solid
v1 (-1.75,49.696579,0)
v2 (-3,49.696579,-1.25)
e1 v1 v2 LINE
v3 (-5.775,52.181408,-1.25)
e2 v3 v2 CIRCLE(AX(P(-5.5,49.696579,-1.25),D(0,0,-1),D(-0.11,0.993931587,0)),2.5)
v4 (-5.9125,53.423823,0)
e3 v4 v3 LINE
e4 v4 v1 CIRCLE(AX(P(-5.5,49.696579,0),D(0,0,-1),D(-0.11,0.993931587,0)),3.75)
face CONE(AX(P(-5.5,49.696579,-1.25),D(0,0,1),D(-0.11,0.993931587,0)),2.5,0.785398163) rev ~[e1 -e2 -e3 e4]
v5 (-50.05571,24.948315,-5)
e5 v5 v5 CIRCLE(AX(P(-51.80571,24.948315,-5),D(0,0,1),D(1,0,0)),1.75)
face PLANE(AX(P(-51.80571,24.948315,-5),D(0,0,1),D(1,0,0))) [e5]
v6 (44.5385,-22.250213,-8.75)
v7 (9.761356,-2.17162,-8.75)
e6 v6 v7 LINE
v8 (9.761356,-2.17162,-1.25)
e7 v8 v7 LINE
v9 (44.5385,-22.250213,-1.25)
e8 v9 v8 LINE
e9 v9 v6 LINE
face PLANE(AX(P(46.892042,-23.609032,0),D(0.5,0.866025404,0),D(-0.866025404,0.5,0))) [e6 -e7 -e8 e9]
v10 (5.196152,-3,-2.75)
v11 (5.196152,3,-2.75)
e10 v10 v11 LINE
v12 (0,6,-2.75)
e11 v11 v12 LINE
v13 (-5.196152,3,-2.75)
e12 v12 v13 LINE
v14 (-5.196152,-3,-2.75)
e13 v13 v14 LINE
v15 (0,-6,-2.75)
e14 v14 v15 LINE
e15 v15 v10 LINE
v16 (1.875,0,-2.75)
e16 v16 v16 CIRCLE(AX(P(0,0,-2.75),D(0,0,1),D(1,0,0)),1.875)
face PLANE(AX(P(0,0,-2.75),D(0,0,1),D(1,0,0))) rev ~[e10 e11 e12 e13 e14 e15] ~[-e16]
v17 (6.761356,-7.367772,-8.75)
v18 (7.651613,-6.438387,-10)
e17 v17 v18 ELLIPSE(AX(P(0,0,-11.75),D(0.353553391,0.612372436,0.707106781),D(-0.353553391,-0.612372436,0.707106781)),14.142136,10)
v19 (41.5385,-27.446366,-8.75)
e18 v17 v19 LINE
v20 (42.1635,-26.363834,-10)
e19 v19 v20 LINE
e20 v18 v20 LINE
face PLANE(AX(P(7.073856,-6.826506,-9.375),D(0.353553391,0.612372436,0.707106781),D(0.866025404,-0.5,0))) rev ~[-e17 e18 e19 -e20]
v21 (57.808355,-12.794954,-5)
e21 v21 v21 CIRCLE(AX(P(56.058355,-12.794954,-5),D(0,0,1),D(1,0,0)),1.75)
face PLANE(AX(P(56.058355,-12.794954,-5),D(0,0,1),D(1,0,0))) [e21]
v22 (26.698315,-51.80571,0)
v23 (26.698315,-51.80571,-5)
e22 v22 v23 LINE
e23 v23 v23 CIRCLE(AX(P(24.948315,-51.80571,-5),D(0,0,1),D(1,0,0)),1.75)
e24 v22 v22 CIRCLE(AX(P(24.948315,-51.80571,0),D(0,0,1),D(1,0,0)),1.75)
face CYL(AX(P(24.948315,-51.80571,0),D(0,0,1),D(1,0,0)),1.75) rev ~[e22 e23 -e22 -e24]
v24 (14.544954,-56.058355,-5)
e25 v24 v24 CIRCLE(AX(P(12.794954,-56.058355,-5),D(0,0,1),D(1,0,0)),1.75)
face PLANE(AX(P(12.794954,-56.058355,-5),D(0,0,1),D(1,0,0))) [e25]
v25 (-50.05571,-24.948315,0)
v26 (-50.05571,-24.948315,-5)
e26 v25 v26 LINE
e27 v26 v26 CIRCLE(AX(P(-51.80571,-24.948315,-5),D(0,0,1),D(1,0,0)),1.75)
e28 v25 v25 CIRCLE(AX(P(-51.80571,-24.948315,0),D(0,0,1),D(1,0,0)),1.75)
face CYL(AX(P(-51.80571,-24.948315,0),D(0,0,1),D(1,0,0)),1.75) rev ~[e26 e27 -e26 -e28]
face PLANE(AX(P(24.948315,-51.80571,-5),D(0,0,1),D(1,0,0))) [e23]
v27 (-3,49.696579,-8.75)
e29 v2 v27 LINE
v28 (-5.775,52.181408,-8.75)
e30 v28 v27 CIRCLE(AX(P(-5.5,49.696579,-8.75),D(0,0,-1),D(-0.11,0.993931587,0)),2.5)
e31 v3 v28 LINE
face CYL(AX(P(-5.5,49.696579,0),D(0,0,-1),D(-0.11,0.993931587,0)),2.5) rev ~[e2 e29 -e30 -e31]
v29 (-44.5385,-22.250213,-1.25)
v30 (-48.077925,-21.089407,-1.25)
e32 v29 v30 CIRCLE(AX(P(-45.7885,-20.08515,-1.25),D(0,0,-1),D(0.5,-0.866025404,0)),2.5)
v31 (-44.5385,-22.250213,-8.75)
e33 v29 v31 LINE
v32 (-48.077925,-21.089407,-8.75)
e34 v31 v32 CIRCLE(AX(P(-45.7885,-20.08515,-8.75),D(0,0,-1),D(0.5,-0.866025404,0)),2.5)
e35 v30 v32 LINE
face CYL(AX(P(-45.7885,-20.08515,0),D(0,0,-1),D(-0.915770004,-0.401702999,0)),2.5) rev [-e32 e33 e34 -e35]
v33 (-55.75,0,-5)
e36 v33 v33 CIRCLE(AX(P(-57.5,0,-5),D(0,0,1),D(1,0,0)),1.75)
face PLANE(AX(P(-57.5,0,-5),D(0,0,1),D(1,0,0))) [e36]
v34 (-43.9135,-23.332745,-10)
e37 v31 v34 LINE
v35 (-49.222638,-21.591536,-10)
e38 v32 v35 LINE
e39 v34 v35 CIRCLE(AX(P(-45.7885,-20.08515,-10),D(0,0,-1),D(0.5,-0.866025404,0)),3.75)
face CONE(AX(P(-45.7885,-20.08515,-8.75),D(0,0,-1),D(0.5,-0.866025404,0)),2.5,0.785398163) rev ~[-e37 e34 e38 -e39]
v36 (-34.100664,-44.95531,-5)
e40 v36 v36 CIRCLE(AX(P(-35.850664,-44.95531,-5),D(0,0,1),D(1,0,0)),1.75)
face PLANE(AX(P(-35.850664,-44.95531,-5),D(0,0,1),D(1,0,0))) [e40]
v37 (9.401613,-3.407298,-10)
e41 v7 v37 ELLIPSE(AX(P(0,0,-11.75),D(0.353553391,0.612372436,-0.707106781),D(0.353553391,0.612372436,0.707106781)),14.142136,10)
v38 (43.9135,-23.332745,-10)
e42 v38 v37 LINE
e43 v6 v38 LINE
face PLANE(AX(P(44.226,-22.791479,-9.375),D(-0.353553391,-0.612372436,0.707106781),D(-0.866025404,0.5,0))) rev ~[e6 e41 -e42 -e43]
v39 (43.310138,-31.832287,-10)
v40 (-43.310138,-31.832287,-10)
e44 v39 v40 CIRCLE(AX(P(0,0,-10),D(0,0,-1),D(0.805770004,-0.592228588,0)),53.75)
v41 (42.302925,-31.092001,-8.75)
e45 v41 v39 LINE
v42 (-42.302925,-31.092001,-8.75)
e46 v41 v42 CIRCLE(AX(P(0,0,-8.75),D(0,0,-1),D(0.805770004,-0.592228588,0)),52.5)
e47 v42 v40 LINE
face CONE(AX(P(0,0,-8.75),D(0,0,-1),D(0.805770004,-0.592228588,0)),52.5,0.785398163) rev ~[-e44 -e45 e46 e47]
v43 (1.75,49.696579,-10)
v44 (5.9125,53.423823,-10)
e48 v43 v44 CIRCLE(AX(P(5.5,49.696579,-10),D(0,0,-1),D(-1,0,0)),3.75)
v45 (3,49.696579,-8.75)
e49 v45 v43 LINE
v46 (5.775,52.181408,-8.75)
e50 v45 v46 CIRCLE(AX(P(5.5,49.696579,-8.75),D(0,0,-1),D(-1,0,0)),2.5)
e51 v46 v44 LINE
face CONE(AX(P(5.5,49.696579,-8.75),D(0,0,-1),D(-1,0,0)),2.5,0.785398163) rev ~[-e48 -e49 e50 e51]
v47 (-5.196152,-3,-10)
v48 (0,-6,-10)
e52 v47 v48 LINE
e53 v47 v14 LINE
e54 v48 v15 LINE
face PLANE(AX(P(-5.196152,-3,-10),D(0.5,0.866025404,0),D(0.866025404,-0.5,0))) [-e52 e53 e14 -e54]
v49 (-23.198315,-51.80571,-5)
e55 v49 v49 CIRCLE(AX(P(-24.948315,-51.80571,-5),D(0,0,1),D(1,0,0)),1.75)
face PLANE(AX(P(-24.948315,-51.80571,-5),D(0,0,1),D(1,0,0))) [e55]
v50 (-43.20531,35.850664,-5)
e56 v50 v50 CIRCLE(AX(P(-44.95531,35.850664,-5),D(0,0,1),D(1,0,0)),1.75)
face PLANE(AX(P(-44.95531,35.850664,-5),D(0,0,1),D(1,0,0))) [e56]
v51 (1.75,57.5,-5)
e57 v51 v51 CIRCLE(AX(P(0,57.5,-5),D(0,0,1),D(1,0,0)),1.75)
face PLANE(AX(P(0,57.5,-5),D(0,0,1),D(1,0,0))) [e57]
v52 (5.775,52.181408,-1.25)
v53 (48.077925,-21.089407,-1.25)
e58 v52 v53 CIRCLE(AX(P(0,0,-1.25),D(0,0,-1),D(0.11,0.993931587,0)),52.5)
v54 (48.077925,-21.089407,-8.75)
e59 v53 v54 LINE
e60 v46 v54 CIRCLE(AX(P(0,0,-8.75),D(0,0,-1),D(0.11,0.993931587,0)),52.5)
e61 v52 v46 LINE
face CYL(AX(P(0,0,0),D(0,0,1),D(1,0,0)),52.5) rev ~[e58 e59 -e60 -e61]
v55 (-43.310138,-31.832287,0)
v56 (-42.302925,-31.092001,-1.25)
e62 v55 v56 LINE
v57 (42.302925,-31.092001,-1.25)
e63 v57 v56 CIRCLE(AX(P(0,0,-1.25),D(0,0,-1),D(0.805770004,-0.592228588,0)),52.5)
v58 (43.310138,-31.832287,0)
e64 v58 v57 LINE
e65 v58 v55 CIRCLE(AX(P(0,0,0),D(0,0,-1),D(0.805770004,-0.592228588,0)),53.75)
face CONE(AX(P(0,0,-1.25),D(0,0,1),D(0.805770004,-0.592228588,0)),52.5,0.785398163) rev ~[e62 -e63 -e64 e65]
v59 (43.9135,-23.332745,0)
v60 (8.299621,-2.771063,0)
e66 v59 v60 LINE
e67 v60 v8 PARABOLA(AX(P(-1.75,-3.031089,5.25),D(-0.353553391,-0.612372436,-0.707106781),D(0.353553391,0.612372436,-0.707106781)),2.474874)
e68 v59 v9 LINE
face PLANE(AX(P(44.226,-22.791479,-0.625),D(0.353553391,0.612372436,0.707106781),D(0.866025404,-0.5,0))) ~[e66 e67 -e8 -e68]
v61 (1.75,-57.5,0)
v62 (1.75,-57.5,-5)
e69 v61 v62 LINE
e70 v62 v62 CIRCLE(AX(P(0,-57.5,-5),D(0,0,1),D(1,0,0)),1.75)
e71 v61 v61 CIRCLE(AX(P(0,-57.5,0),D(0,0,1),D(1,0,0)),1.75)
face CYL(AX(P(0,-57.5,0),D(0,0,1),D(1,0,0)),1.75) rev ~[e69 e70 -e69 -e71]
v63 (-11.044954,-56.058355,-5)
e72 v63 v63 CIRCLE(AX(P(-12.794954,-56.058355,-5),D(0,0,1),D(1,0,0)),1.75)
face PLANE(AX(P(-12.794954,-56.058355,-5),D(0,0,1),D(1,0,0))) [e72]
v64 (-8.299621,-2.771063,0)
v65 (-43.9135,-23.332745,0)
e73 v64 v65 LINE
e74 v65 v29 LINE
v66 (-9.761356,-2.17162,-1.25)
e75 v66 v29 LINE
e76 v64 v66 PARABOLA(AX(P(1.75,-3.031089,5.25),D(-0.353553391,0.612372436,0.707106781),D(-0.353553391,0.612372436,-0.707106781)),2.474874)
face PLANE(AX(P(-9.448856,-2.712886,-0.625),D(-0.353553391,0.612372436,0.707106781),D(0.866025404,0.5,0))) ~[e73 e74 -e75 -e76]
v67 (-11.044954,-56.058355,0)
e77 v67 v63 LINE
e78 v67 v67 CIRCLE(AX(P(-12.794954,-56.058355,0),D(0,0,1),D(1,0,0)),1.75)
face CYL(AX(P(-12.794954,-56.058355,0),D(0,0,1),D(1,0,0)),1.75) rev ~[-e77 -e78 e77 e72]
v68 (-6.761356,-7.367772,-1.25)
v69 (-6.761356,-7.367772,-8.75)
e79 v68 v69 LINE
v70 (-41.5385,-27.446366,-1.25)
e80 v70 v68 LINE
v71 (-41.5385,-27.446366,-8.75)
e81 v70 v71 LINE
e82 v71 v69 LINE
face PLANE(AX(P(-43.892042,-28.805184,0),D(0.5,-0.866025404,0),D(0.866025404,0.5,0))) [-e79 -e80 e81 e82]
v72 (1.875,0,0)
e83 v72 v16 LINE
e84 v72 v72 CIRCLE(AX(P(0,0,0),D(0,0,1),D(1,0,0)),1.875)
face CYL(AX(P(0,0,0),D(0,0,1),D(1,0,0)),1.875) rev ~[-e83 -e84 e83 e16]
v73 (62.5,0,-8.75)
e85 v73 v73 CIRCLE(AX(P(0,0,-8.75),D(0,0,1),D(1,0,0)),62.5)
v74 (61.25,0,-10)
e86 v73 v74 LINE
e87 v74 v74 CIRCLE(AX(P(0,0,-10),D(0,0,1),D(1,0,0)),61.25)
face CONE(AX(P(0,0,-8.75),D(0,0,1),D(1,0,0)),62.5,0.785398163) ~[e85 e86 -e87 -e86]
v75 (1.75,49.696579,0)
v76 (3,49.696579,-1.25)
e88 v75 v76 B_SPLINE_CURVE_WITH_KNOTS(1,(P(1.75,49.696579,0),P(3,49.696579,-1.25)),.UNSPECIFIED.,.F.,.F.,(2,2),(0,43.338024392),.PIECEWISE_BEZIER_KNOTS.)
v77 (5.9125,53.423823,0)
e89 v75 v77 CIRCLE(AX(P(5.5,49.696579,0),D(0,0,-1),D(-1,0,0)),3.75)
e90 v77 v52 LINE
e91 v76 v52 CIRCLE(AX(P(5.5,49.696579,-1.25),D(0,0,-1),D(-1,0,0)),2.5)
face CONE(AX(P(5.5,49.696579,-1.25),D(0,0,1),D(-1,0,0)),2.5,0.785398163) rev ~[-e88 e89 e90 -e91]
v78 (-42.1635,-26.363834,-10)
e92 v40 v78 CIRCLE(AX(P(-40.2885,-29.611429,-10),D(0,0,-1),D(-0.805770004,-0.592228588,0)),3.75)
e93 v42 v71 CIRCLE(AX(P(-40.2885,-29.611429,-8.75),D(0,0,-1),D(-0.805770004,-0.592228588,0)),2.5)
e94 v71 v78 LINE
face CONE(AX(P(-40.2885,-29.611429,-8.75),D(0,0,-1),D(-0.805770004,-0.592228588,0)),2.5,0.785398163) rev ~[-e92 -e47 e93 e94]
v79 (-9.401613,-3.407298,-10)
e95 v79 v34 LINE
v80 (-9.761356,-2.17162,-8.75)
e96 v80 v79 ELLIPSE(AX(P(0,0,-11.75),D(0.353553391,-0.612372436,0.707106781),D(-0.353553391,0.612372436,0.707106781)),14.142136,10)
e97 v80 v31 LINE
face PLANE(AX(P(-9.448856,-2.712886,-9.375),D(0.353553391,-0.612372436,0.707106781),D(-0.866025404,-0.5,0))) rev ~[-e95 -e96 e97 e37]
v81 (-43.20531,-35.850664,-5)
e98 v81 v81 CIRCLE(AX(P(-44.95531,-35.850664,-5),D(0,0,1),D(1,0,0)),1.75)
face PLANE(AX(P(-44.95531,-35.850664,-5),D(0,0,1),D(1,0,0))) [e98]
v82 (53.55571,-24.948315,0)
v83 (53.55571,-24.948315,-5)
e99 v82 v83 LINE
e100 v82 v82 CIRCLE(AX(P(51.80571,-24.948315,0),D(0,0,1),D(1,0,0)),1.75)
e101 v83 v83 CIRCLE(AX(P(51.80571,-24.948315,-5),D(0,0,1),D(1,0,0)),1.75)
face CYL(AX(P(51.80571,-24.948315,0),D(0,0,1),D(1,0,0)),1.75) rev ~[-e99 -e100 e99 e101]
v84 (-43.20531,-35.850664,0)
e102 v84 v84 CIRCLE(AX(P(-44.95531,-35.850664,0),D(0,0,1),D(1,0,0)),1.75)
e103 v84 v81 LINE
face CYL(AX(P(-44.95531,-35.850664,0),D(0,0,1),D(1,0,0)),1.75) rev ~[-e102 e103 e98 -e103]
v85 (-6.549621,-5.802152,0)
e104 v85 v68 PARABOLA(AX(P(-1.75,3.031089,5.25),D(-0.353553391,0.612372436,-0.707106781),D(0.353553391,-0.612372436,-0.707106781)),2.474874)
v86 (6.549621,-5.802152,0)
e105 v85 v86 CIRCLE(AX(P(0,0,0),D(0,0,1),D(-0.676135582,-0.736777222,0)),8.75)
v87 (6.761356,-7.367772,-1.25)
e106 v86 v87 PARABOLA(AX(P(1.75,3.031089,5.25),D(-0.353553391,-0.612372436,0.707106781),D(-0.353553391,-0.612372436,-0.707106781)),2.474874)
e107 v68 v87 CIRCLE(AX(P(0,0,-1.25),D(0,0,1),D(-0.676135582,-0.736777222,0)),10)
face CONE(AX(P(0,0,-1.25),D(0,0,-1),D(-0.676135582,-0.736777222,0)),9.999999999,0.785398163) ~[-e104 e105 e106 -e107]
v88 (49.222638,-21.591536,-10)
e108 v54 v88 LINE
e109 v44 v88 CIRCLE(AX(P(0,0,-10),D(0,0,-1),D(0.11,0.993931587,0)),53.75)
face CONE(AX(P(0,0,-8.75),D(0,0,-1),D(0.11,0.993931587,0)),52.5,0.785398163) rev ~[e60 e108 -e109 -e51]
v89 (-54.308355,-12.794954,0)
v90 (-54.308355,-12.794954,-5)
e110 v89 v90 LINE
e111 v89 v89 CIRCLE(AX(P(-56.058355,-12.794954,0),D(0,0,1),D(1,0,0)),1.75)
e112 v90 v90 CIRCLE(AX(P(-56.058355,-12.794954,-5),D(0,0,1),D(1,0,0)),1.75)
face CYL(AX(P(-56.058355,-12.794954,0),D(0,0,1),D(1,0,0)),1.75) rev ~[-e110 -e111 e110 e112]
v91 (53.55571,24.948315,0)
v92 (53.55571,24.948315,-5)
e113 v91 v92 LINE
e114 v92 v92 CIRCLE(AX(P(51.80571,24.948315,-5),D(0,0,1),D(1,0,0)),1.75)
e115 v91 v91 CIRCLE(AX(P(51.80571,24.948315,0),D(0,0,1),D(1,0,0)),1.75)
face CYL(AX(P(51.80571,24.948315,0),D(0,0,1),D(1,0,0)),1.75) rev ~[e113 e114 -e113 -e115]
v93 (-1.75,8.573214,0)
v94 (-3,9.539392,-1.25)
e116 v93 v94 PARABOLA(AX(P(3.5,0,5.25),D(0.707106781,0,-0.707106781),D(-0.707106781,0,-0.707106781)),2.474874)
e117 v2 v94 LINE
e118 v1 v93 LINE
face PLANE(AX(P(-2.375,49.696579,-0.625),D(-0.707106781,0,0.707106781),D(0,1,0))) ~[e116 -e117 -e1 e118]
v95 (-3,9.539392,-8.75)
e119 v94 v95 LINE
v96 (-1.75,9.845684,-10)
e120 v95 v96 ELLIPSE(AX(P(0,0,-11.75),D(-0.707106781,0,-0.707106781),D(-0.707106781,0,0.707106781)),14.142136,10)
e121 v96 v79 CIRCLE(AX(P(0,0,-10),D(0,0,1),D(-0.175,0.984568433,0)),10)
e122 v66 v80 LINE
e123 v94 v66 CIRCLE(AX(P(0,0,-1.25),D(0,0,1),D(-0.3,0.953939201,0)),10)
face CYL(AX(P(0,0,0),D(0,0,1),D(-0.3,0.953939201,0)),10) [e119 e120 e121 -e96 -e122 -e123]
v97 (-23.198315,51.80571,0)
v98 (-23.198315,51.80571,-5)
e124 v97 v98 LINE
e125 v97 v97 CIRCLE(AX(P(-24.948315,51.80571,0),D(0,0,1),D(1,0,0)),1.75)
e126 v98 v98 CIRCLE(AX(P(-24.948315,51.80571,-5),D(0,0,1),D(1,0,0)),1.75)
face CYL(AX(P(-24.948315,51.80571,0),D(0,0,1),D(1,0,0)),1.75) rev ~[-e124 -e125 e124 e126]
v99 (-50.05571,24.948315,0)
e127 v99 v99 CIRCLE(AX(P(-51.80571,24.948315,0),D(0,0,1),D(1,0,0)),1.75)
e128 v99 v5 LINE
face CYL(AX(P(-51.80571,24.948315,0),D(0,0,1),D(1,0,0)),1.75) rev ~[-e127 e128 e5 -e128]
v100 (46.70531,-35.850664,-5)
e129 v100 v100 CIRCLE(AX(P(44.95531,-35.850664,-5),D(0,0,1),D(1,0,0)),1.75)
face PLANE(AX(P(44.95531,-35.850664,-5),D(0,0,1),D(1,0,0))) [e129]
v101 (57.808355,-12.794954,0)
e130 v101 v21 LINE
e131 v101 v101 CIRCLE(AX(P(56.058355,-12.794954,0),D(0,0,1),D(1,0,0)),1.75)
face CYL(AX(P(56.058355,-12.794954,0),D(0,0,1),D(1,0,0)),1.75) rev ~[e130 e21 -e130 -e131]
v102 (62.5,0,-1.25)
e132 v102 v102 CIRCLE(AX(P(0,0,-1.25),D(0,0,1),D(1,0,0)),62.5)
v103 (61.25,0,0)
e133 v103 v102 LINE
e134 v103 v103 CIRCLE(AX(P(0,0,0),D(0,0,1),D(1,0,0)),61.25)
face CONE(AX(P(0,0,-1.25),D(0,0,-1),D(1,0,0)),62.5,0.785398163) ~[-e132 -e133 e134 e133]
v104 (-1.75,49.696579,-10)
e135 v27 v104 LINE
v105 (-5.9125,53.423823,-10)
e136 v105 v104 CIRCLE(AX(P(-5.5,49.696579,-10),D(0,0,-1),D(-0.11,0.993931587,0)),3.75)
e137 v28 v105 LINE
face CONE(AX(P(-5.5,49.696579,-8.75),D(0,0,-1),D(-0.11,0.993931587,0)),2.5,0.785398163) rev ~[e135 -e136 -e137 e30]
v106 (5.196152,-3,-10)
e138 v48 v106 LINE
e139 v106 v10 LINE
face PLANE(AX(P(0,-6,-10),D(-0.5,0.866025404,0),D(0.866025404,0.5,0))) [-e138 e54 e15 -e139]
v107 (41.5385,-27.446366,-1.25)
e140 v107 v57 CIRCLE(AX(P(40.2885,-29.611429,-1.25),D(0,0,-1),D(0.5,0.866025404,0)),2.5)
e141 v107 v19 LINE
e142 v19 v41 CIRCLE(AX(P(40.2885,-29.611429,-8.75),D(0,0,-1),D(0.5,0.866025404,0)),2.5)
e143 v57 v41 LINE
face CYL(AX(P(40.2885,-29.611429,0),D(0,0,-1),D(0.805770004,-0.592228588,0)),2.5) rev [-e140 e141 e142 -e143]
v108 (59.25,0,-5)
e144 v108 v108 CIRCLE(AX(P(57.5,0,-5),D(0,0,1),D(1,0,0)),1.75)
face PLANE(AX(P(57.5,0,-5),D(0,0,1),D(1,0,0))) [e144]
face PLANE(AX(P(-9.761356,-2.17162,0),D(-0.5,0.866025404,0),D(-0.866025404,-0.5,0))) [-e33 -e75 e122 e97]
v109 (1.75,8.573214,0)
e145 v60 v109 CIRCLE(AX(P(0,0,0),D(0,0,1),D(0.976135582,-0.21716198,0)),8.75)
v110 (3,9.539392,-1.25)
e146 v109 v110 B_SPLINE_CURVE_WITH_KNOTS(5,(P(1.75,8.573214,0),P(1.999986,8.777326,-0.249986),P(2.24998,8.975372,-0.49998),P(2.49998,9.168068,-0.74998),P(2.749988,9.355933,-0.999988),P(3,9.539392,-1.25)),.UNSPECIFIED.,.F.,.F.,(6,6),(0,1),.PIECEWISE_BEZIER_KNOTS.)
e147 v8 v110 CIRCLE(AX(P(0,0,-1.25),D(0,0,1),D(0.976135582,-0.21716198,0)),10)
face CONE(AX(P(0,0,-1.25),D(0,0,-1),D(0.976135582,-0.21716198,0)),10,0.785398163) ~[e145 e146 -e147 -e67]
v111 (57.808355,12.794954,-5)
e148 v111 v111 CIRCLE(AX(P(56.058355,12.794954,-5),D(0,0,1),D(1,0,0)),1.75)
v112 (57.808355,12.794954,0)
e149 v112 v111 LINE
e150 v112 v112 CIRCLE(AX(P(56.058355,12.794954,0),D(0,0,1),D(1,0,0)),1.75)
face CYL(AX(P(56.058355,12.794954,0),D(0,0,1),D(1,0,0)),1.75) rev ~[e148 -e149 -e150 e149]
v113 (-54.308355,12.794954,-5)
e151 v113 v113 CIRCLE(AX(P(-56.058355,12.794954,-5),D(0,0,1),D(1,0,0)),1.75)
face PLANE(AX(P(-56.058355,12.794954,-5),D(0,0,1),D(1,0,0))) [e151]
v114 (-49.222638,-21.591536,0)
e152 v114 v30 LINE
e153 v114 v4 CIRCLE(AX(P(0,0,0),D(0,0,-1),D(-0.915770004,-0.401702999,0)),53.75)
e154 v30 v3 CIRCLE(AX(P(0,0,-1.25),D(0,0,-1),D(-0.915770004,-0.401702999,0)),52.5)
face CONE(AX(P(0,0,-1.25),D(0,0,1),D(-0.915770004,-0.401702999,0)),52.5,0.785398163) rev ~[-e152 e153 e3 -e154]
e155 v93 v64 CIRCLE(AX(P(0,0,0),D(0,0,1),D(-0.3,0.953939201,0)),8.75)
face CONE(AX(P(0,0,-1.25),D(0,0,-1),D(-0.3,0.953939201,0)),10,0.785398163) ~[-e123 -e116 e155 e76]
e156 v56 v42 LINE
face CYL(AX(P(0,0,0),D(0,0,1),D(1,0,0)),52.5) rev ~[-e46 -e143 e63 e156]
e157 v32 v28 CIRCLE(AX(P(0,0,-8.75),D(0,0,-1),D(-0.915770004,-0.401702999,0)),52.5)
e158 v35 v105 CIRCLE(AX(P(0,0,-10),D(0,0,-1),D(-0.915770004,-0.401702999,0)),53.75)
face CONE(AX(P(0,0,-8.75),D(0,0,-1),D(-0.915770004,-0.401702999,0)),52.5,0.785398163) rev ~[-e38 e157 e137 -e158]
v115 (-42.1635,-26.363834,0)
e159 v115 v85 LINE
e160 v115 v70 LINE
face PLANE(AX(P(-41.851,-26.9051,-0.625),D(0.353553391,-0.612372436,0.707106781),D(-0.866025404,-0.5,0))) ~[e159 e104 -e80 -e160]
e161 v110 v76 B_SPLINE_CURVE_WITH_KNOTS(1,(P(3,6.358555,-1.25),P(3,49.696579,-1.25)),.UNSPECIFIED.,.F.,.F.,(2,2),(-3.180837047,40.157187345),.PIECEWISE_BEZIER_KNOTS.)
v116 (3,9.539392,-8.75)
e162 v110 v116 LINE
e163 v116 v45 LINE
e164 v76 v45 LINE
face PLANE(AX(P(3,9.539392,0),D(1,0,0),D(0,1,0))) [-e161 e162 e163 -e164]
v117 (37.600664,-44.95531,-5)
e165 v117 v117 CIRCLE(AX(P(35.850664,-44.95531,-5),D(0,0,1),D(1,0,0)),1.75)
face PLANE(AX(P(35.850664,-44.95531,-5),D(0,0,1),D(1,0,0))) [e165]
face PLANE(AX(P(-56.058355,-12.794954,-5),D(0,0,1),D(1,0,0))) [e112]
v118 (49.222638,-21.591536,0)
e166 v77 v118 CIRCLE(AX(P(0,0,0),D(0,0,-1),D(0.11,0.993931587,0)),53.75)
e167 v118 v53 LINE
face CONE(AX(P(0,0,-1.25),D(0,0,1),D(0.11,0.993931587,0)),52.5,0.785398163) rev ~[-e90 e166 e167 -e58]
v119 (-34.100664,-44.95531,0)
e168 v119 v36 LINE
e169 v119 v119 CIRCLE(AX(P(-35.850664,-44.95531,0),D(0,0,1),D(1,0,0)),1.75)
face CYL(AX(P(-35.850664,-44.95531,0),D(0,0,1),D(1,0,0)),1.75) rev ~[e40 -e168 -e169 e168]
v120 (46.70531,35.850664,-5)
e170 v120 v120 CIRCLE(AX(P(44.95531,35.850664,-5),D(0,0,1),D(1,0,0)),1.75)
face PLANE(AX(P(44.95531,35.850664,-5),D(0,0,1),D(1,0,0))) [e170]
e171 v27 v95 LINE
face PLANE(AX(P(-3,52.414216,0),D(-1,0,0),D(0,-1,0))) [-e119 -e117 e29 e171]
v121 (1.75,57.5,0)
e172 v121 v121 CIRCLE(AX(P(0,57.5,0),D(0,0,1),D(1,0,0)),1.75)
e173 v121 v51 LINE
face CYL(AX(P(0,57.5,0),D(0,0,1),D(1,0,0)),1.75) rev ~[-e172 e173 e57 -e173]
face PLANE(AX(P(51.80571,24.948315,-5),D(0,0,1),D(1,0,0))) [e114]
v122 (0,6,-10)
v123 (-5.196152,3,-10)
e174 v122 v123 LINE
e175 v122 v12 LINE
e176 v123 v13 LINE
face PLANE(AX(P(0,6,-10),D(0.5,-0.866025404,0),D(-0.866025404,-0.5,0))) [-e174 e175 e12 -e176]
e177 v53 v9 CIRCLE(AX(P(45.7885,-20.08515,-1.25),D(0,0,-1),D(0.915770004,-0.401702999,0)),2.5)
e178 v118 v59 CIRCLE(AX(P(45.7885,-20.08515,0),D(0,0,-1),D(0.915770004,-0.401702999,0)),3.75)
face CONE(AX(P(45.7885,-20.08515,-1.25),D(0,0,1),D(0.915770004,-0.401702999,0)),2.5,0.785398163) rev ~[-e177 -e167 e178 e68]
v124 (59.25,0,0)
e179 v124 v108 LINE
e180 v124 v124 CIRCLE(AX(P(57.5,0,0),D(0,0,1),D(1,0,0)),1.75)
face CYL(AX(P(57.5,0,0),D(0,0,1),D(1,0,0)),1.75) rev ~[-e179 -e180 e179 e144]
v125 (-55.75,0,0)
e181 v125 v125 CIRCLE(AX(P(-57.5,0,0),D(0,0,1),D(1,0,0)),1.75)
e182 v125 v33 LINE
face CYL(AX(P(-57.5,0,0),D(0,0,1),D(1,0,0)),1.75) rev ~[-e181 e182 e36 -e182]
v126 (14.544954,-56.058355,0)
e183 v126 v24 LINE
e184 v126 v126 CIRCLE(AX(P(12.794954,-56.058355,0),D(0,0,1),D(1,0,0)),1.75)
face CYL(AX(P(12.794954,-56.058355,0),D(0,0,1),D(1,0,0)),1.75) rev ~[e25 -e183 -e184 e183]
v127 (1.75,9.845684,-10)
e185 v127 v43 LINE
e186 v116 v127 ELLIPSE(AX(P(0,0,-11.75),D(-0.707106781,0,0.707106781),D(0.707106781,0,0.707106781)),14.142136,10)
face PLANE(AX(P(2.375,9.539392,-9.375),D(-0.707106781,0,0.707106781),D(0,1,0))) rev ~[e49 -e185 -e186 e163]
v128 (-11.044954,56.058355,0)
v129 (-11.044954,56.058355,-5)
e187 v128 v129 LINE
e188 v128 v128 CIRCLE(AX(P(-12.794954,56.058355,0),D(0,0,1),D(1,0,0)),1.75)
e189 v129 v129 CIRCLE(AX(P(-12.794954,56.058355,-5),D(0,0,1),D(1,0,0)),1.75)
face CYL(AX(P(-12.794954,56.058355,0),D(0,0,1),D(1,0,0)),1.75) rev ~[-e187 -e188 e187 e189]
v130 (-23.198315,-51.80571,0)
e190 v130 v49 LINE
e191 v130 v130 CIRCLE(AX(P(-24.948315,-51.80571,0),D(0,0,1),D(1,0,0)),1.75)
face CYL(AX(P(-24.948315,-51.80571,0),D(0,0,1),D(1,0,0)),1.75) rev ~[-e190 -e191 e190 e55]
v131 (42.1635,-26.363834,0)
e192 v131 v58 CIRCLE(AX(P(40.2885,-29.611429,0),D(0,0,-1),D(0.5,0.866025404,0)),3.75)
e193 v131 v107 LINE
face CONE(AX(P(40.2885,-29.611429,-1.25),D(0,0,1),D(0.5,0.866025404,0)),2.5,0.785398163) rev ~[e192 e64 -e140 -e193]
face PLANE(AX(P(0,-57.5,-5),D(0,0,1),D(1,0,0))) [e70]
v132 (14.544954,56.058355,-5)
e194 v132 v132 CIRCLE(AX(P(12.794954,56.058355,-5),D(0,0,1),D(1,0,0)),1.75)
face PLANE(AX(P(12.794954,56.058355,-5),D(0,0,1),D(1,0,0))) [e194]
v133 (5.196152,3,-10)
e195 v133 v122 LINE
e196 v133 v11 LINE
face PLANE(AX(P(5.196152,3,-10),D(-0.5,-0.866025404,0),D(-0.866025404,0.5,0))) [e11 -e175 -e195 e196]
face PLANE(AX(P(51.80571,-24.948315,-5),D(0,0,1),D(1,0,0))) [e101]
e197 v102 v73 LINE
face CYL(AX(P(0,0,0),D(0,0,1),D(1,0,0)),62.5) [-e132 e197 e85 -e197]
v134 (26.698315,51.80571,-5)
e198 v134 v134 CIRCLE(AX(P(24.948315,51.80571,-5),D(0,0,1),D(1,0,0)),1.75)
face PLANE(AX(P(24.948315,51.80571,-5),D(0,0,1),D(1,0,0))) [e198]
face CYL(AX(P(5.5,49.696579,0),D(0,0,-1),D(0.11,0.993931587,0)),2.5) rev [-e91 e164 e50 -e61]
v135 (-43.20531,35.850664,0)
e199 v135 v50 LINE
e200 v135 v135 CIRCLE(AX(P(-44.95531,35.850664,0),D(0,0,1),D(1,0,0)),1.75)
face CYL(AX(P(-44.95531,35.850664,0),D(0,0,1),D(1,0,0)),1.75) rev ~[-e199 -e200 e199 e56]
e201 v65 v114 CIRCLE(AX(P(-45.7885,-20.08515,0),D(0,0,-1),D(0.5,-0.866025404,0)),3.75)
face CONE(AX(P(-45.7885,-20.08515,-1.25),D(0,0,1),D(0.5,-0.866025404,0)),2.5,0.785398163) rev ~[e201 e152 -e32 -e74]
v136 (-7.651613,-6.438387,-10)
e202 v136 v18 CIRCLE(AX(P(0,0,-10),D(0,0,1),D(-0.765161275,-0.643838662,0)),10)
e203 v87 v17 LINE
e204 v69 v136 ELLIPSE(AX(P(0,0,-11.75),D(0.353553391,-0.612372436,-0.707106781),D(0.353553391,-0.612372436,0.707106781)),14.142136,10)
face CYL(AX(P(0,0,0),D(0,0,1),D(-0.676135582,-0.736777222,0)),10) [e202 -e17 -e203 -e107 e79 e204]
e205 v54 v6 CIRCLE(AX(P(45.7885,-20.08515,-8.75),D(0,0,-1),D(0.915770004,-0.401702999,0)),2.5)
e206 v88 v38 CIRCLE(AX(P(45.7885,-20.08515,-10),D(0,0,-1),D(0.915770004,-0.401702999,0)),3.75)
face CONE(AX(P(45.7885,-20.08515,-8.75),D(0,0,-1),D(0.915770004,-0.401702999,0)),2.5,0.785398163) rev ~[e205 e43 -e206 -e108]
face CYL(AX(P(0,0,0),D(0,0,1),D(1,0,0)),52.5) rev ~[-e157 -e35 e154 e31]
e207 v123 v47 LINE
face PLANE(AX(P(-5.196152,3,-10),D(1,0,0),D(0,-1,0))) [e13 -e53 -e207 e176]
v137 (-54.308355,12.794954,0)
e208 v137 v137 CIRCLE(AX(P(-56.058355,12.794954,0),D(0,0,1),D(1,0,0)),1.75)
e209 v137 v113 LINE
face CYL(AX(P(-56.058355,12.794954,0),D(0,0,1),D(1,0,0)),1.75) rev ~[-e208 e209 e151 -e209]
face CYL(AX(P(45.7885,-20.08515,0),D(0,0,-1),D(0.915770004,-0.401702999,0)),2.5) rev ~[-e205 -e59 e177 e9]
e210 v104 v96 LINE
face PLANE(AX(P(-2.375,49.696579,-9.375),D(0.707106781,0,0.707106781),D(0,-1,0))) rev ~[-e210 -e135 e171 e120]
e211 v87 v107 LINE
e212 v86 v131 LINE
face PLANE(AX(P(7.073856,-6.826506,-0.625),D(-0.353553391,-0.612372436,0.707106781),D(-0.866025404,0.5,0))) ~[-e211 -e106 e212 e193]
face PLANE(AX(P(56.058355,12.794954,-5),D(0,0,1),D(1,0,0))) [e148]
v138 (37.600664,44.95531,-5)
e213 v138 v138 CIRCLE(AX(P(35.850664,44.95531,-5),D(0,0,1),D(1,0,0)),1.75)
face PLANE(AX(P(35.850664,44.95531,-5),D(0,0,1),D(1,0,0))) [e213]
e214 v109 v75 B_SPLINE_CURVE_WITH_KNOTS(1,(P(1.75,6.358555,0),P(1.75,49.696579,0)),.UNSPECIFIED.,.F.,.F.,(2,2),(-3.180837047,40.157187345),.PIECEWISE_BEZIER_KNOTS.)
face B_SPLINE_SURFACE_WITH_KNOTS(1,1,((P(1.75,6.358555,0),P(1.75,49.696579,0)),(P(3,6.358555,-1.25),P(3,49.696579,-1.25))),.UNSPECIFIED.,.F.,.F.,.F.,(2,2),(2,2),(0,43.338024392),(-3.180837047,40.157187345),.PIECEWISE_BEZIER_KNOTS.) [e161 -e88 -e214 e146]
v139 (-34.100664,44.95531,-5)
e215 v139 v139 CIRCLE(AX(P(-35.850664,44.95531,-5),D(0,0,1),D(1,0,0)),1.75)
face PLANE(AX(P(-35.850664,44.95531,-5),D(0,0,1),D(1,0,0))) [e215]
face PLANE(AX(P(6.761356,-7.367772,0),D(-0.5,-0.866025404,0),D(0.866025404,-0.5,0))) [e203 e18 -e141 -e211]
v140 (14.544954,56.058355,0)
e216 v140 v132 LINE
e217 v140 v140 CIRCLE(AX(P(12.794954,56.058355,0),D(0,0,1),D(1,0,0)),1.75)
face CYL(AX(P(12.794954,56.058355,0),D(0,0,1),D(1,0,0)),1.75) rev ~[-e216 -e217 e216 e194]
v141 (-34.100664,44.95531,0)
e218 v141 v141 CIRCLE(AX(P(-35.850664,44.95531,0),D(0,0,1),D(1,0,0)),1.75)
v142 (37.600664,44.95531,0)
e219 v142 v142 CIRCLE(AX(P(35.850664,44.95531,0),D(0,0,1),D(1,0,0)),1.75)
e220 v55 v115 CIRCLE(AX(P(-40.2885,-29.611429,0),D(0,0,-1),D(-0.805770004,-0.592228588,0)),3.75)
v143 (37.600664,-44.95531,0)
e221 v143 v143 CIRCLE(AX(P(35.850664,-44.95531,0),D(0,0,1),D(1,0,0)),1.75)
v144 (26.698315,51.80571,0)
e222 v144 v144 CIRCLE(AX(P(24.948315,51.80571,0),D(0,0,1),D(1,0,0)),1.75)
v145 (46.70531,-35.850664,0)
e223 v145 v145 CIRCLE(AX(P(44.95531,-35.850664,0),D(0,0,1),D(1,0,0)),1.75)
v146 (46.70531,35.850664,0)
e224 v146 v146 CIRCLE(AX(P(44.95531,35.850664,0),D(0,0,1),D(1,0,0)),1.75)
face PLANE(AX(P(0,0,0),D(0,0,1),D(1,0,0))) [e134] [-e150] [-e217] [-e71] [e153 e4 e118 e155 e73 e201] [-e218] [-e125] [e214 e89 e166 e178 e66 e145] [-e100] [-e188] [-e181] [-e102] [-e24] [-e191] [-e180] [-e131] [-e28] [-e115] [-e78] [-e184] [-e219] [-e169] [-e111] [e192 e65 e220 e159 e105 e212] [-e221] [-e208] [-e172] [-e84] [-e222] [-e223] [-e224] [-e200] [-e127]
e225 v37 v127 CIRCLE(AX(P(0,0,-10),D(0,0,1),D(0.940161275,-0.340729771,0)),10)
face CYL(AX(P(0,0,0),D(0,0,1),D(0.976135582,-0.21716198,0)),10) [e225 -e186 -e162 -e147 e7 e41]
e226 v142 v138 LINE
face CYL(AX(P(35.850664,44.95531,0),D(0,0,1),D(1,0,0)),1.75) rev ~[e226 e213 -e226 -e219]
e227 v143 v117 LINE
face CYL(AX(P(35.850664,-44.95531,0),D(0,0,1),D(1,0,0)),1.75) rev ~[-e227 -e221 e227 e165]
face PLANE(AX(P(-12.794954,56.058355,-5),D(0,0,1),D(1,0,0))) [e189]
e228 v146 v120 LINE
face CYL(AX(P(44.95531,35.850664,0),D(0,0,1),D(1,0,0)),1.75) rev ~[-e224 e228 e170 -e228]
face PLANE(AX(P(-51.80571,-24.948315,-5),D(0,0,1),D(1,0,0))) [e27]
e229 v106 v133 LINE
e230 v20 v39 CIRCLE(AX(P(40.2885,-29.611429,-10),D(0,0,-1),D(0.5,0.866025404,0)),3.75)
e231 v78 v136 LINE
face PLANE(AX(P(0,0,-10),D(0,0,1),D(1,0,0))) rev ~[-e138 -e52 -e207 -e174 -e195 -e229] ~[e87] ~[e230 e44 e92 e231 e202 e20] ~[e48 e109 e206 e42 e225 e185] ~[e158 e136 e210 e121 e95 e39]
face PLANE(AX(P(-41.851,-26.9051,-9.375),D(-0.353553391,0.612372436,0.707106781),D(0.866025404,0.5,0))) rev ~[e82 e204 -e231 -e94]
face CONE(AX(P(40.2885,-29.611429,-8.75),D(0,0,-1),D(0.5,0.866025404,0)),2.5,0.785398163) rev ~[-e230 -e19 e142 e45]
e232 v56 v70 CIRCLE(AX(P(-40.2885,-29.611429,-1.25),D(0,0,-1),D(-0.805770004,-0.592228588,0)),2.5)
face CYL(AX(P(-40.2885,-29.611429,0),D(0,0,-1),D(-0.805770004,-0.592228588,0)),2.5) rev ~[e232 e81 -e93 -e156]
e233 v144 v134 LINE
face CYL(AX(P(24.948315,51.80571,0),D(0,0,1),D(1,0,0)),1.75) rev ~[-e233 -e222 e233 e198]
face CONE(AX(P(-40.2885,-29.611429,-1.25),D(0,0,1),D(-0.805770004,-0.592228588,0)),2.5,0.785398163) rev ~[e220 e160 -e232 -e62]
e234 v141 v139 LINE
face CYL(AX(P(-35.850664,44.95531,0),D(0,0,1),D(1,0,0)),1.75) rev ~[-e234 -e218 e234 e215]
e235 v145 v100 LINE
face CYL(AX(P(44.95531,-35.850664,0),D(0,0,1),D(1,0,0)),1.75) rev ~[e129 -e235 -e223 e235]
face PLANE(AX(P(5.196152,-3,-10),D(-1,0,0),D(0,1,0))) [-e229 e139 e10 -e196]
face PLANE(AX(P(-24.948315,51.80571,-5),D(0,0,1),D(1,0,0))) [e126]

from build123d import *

# Parameters (mm, degrees)
SKETCH1_R           = 62.5
SKETCH1_R_2         = 52.5
BOSS_EXTRUDE1_DEPTH = 10
BOSS_EXTRUDE5_DEPTH = 10
CUT_EXTRUDE2_DEPTH  = 7.25
SKETCH4_R           = 1.875
CUT_EXTRUDE3_DEPTH  = 6
SKETCH5_R           = 1.75
CUT_EXTRUDE4_DEPTH  = 5
FILLET1_R           = 2.5
CHAMFER1_SIZE       = 1.25


with BuildPart() as part:
    # Sketch1 → Boss-Extrude1 (new body)
    with BuildSketch(Plane.XY):
        Circle(SKETCH1_R)
        Circle(SKETCH1_R_2, mode=Mode.SUBTRACT)
    extrude(amount=-BOSS_EXTRUDE1_DEPTH)

    # Sketch2 → Boss-Extrude5 (add)
    with BuildSketch(Plane.XY):
        with BuildLine():
            Line((46.892042254, -23.609031603), (9.761355821, -2.171619796))
            ThreePointArc((9.761355821, -2.171619796), (8.660254038, 5), (3, 9.539392014))
            Line((3, 9.539392014), (3, 52.414215629))
            ThreePointArc((3, 52.414215629), (0, 52.5), (-3, 52.414215629))
            Line((-3, 52.414215629), (-3, 9.539392014))
            ThreePointArc((-3, 9.539392014), (-8.660254038, 5), (-9.761355821, -2.171619796))
            Line((-9.761355821, -2.171619796), (-46.892042254, -23.609031603))
            ThreePointArc((-46.892042254, -23.609031603), (-45.466333699, -26.25), (-43.892042254, -28.805184026))
            Line((-43.892042254, -28.805184026), (-6.761355821, -7.367772218))
            ThreePointArc((-6.761355821, -7.367772218), (0, -10), (6.761355821, -7.367772218))
            Line((6.761355821, -7.367772218), (43.892042254, -28.805184026))
            ThreePointArc((43.892042254, -28.805184026), (45.466333699, -26.25), (46.892042254, -23.609031603))
        make_face()
    extrude(amount=-BOSS_EXTRUDE5_DEPTH)

    # Sketch3 → Cut-Extrude2 (cut)
    with BuildSketch(Plane.XY.offset(-10)):
        Polygon((0, 6), (-5.196152423, 3), (-5.196152423, -3), (0, -6), (5.196152423, -3), (5.196152423, 3), align=None)
    extrude(amount=CUT_EXTRUDE2_DEPTH, mode=Mode.SUBTRACT)

    # Sketch4 → Cut-Extrude3 (cut)
    with BuildSketch(Plane.XY):
        Circle(SKETCH4_R)
    extrude(amount=-CUT_EXTRUDE3_DEPTH, mode=Mode.SUBTRACT)

    # Sketch5 → Cut-Extrude4 (cut)
    with BuildSketch(Plane.XY):
        with Locations((12.794953702, 56.05835495)):
            Circle(SKETCH5_R)
        with Locations((0, 57.5)):
            Circle(SKETCH5_R)
        with Locations((24.948314999, 51.805709904)):
            Circle(SKETCH5_R)
        with Locations((35.850663607, 44.955310242)):
            Circle(SKETCH5_R)
        with Locations((44.955310242, 35.850663607)):
            Circle(SKETCH5_R)
        with Locations((51.805709904, 24.948314999)):
            Circle(SKETCH5_R)
        with Locations((56.05835495, 12.794953702)):
            Circle(SKETCH5_R)
        with Locations((57.5, 0)):
            Circle(SKETCH5_R)
        with Locations((56.05835495, -12.794953702)):
            Circle(SKETCH5_R)
        with Locations((51.805709904, -24.948314999)):
            Circle(SKETCH5_R)
        with Locations((44.955310242, -35.850663607)):
            Circle(SKETCH5_R)
        with Locations((35.850663607, -44.955310242)):
            Circle(SKETCH5_R)
        with Locations((24.948314999, -51.805709904)):
            Circle(SKETCH5_R)
        with Locations((12.794953702, -56.05835495)):
            Circle(SKETCH5_R)
        with Locations((0, -57.5)):
            Circle(SKETCH5_R)
        with Locations((-12.794953702, -56.05835495)):
            Circle(SKETCH5_R)
        with Locations((-24.948314999, -51.805709904)):
            Circle(SKETCH5_R)
        with Locations((-35.850663607, -44.955310242)):
            Circle(SKETCH5_R)
        with Locations((-44.955310242, -35.850663607)):
            Circle(SKETCH5_R)
        with Locations((-51.805709904, -24.948314999)):
            Circle(SKETCH5_R)
        with Locations((-56.05835495, -12.794953702)):
            Circle(SKETCH5_R)
        with Locations((-57.5, 0)):
            Circle(SKETCH5_R)
        with Locations((-56.05835495, 12.794953702)):
            Circle(SKETCH5_R)
        with Locations((-51.805709904, 24.948314999)):
            Circle(SKETCH5_R)
        with Locations((-44.955310242, 35.850663607)):
            Circle(SKETCH5_R)
        with Locations((-35.850663607, 44.955310242)):
            Circle(SKETCH5_R)
        with Locations((-24.948314999, 51.805709904)):
            Circle(SKETCH5_R)
        with Locations((-12.794953702, 56.05835495)):
            Circle(SKETCH5_R)
    extrude(amount=-CUT_EXTRUDE4_DEPTH, mode=Mode.SUBTRACT)

    # Fillet1
    fillet1_edges = [part.edges().sort_by_distance(p)[0] for p in [
        (3, 52.414215629, -5),
        (46.892042254, -23.609031603, -5),
        (43.892042254, -28.805184026, -5),
        (-43.892042254, -28.805184026, -5),
        (-46.892042254, -23.609031603, -5),
        (-3, 52.414215629, -5),
    ]]
    fillet(fillet1_edges, radius=FILLET1_R)

    # Chamfer1
    chamfer1_edges = [part.edges().sort_by_distance(p)[0] for p in [
        (3, 29.617985687, -10),
        (27.149928014, -12.210916632, 0),
        (24.149928014, -17.407069055, -10),
        (-24.149928014, -17.407069055, 0),
        (-27.149928014, -12.210916632, -10),
        (-3, 29.617985687, 0),
        (-62.5, 0, 0),
        (27.149928014, -12.210916632, -10),
        (-24.149928014, -17.407069055, -10),
        (-3, 29.617985687, -10),
        (3, 29.617985687, 0),
        (-8.660254038, 5, 0),
        (-27.149928014, -12.210916632, 0),
        (0, -10, 0),
        (24.149928014, -17.407069055, 0),
        (45.466333699, 26.25, 0),
        (45.466333699, 26.25, -10),
        (8.660254038, 5, 0),
        (0, -52.5, 0),
        (0, -52.5, -10),
        (-45.466333699, 26.25, 0),
        (-45.466333699, 26.25, -10),
        (46.56758219, -22.460656486, 0),
        (46.56758219, -22.460656486, -10),
        (42.735290198, -29.098380926, 0),
        (42.735290198, -29.098380926, -10),
        (-42.735290198, -29.098380926, 0),
        (-42.735290198, -29.098380926, -10),
        (-46.56758219, -22.460656486, 0),
        (-46.56758219, -22.460656486, -10),
        (3.832291992, 51.559037412, 0),
        (3.832291992, 51.559037412, -10),
        (-3.832291992, 51.559037412, 0),
        (-3.832291992, 51.559037412, -10),
        (-62.5, 0, -10),
    ]]
    chamfer(chamfer1_edges, length=CHAMFER1_SIZE)


solid = part.part
